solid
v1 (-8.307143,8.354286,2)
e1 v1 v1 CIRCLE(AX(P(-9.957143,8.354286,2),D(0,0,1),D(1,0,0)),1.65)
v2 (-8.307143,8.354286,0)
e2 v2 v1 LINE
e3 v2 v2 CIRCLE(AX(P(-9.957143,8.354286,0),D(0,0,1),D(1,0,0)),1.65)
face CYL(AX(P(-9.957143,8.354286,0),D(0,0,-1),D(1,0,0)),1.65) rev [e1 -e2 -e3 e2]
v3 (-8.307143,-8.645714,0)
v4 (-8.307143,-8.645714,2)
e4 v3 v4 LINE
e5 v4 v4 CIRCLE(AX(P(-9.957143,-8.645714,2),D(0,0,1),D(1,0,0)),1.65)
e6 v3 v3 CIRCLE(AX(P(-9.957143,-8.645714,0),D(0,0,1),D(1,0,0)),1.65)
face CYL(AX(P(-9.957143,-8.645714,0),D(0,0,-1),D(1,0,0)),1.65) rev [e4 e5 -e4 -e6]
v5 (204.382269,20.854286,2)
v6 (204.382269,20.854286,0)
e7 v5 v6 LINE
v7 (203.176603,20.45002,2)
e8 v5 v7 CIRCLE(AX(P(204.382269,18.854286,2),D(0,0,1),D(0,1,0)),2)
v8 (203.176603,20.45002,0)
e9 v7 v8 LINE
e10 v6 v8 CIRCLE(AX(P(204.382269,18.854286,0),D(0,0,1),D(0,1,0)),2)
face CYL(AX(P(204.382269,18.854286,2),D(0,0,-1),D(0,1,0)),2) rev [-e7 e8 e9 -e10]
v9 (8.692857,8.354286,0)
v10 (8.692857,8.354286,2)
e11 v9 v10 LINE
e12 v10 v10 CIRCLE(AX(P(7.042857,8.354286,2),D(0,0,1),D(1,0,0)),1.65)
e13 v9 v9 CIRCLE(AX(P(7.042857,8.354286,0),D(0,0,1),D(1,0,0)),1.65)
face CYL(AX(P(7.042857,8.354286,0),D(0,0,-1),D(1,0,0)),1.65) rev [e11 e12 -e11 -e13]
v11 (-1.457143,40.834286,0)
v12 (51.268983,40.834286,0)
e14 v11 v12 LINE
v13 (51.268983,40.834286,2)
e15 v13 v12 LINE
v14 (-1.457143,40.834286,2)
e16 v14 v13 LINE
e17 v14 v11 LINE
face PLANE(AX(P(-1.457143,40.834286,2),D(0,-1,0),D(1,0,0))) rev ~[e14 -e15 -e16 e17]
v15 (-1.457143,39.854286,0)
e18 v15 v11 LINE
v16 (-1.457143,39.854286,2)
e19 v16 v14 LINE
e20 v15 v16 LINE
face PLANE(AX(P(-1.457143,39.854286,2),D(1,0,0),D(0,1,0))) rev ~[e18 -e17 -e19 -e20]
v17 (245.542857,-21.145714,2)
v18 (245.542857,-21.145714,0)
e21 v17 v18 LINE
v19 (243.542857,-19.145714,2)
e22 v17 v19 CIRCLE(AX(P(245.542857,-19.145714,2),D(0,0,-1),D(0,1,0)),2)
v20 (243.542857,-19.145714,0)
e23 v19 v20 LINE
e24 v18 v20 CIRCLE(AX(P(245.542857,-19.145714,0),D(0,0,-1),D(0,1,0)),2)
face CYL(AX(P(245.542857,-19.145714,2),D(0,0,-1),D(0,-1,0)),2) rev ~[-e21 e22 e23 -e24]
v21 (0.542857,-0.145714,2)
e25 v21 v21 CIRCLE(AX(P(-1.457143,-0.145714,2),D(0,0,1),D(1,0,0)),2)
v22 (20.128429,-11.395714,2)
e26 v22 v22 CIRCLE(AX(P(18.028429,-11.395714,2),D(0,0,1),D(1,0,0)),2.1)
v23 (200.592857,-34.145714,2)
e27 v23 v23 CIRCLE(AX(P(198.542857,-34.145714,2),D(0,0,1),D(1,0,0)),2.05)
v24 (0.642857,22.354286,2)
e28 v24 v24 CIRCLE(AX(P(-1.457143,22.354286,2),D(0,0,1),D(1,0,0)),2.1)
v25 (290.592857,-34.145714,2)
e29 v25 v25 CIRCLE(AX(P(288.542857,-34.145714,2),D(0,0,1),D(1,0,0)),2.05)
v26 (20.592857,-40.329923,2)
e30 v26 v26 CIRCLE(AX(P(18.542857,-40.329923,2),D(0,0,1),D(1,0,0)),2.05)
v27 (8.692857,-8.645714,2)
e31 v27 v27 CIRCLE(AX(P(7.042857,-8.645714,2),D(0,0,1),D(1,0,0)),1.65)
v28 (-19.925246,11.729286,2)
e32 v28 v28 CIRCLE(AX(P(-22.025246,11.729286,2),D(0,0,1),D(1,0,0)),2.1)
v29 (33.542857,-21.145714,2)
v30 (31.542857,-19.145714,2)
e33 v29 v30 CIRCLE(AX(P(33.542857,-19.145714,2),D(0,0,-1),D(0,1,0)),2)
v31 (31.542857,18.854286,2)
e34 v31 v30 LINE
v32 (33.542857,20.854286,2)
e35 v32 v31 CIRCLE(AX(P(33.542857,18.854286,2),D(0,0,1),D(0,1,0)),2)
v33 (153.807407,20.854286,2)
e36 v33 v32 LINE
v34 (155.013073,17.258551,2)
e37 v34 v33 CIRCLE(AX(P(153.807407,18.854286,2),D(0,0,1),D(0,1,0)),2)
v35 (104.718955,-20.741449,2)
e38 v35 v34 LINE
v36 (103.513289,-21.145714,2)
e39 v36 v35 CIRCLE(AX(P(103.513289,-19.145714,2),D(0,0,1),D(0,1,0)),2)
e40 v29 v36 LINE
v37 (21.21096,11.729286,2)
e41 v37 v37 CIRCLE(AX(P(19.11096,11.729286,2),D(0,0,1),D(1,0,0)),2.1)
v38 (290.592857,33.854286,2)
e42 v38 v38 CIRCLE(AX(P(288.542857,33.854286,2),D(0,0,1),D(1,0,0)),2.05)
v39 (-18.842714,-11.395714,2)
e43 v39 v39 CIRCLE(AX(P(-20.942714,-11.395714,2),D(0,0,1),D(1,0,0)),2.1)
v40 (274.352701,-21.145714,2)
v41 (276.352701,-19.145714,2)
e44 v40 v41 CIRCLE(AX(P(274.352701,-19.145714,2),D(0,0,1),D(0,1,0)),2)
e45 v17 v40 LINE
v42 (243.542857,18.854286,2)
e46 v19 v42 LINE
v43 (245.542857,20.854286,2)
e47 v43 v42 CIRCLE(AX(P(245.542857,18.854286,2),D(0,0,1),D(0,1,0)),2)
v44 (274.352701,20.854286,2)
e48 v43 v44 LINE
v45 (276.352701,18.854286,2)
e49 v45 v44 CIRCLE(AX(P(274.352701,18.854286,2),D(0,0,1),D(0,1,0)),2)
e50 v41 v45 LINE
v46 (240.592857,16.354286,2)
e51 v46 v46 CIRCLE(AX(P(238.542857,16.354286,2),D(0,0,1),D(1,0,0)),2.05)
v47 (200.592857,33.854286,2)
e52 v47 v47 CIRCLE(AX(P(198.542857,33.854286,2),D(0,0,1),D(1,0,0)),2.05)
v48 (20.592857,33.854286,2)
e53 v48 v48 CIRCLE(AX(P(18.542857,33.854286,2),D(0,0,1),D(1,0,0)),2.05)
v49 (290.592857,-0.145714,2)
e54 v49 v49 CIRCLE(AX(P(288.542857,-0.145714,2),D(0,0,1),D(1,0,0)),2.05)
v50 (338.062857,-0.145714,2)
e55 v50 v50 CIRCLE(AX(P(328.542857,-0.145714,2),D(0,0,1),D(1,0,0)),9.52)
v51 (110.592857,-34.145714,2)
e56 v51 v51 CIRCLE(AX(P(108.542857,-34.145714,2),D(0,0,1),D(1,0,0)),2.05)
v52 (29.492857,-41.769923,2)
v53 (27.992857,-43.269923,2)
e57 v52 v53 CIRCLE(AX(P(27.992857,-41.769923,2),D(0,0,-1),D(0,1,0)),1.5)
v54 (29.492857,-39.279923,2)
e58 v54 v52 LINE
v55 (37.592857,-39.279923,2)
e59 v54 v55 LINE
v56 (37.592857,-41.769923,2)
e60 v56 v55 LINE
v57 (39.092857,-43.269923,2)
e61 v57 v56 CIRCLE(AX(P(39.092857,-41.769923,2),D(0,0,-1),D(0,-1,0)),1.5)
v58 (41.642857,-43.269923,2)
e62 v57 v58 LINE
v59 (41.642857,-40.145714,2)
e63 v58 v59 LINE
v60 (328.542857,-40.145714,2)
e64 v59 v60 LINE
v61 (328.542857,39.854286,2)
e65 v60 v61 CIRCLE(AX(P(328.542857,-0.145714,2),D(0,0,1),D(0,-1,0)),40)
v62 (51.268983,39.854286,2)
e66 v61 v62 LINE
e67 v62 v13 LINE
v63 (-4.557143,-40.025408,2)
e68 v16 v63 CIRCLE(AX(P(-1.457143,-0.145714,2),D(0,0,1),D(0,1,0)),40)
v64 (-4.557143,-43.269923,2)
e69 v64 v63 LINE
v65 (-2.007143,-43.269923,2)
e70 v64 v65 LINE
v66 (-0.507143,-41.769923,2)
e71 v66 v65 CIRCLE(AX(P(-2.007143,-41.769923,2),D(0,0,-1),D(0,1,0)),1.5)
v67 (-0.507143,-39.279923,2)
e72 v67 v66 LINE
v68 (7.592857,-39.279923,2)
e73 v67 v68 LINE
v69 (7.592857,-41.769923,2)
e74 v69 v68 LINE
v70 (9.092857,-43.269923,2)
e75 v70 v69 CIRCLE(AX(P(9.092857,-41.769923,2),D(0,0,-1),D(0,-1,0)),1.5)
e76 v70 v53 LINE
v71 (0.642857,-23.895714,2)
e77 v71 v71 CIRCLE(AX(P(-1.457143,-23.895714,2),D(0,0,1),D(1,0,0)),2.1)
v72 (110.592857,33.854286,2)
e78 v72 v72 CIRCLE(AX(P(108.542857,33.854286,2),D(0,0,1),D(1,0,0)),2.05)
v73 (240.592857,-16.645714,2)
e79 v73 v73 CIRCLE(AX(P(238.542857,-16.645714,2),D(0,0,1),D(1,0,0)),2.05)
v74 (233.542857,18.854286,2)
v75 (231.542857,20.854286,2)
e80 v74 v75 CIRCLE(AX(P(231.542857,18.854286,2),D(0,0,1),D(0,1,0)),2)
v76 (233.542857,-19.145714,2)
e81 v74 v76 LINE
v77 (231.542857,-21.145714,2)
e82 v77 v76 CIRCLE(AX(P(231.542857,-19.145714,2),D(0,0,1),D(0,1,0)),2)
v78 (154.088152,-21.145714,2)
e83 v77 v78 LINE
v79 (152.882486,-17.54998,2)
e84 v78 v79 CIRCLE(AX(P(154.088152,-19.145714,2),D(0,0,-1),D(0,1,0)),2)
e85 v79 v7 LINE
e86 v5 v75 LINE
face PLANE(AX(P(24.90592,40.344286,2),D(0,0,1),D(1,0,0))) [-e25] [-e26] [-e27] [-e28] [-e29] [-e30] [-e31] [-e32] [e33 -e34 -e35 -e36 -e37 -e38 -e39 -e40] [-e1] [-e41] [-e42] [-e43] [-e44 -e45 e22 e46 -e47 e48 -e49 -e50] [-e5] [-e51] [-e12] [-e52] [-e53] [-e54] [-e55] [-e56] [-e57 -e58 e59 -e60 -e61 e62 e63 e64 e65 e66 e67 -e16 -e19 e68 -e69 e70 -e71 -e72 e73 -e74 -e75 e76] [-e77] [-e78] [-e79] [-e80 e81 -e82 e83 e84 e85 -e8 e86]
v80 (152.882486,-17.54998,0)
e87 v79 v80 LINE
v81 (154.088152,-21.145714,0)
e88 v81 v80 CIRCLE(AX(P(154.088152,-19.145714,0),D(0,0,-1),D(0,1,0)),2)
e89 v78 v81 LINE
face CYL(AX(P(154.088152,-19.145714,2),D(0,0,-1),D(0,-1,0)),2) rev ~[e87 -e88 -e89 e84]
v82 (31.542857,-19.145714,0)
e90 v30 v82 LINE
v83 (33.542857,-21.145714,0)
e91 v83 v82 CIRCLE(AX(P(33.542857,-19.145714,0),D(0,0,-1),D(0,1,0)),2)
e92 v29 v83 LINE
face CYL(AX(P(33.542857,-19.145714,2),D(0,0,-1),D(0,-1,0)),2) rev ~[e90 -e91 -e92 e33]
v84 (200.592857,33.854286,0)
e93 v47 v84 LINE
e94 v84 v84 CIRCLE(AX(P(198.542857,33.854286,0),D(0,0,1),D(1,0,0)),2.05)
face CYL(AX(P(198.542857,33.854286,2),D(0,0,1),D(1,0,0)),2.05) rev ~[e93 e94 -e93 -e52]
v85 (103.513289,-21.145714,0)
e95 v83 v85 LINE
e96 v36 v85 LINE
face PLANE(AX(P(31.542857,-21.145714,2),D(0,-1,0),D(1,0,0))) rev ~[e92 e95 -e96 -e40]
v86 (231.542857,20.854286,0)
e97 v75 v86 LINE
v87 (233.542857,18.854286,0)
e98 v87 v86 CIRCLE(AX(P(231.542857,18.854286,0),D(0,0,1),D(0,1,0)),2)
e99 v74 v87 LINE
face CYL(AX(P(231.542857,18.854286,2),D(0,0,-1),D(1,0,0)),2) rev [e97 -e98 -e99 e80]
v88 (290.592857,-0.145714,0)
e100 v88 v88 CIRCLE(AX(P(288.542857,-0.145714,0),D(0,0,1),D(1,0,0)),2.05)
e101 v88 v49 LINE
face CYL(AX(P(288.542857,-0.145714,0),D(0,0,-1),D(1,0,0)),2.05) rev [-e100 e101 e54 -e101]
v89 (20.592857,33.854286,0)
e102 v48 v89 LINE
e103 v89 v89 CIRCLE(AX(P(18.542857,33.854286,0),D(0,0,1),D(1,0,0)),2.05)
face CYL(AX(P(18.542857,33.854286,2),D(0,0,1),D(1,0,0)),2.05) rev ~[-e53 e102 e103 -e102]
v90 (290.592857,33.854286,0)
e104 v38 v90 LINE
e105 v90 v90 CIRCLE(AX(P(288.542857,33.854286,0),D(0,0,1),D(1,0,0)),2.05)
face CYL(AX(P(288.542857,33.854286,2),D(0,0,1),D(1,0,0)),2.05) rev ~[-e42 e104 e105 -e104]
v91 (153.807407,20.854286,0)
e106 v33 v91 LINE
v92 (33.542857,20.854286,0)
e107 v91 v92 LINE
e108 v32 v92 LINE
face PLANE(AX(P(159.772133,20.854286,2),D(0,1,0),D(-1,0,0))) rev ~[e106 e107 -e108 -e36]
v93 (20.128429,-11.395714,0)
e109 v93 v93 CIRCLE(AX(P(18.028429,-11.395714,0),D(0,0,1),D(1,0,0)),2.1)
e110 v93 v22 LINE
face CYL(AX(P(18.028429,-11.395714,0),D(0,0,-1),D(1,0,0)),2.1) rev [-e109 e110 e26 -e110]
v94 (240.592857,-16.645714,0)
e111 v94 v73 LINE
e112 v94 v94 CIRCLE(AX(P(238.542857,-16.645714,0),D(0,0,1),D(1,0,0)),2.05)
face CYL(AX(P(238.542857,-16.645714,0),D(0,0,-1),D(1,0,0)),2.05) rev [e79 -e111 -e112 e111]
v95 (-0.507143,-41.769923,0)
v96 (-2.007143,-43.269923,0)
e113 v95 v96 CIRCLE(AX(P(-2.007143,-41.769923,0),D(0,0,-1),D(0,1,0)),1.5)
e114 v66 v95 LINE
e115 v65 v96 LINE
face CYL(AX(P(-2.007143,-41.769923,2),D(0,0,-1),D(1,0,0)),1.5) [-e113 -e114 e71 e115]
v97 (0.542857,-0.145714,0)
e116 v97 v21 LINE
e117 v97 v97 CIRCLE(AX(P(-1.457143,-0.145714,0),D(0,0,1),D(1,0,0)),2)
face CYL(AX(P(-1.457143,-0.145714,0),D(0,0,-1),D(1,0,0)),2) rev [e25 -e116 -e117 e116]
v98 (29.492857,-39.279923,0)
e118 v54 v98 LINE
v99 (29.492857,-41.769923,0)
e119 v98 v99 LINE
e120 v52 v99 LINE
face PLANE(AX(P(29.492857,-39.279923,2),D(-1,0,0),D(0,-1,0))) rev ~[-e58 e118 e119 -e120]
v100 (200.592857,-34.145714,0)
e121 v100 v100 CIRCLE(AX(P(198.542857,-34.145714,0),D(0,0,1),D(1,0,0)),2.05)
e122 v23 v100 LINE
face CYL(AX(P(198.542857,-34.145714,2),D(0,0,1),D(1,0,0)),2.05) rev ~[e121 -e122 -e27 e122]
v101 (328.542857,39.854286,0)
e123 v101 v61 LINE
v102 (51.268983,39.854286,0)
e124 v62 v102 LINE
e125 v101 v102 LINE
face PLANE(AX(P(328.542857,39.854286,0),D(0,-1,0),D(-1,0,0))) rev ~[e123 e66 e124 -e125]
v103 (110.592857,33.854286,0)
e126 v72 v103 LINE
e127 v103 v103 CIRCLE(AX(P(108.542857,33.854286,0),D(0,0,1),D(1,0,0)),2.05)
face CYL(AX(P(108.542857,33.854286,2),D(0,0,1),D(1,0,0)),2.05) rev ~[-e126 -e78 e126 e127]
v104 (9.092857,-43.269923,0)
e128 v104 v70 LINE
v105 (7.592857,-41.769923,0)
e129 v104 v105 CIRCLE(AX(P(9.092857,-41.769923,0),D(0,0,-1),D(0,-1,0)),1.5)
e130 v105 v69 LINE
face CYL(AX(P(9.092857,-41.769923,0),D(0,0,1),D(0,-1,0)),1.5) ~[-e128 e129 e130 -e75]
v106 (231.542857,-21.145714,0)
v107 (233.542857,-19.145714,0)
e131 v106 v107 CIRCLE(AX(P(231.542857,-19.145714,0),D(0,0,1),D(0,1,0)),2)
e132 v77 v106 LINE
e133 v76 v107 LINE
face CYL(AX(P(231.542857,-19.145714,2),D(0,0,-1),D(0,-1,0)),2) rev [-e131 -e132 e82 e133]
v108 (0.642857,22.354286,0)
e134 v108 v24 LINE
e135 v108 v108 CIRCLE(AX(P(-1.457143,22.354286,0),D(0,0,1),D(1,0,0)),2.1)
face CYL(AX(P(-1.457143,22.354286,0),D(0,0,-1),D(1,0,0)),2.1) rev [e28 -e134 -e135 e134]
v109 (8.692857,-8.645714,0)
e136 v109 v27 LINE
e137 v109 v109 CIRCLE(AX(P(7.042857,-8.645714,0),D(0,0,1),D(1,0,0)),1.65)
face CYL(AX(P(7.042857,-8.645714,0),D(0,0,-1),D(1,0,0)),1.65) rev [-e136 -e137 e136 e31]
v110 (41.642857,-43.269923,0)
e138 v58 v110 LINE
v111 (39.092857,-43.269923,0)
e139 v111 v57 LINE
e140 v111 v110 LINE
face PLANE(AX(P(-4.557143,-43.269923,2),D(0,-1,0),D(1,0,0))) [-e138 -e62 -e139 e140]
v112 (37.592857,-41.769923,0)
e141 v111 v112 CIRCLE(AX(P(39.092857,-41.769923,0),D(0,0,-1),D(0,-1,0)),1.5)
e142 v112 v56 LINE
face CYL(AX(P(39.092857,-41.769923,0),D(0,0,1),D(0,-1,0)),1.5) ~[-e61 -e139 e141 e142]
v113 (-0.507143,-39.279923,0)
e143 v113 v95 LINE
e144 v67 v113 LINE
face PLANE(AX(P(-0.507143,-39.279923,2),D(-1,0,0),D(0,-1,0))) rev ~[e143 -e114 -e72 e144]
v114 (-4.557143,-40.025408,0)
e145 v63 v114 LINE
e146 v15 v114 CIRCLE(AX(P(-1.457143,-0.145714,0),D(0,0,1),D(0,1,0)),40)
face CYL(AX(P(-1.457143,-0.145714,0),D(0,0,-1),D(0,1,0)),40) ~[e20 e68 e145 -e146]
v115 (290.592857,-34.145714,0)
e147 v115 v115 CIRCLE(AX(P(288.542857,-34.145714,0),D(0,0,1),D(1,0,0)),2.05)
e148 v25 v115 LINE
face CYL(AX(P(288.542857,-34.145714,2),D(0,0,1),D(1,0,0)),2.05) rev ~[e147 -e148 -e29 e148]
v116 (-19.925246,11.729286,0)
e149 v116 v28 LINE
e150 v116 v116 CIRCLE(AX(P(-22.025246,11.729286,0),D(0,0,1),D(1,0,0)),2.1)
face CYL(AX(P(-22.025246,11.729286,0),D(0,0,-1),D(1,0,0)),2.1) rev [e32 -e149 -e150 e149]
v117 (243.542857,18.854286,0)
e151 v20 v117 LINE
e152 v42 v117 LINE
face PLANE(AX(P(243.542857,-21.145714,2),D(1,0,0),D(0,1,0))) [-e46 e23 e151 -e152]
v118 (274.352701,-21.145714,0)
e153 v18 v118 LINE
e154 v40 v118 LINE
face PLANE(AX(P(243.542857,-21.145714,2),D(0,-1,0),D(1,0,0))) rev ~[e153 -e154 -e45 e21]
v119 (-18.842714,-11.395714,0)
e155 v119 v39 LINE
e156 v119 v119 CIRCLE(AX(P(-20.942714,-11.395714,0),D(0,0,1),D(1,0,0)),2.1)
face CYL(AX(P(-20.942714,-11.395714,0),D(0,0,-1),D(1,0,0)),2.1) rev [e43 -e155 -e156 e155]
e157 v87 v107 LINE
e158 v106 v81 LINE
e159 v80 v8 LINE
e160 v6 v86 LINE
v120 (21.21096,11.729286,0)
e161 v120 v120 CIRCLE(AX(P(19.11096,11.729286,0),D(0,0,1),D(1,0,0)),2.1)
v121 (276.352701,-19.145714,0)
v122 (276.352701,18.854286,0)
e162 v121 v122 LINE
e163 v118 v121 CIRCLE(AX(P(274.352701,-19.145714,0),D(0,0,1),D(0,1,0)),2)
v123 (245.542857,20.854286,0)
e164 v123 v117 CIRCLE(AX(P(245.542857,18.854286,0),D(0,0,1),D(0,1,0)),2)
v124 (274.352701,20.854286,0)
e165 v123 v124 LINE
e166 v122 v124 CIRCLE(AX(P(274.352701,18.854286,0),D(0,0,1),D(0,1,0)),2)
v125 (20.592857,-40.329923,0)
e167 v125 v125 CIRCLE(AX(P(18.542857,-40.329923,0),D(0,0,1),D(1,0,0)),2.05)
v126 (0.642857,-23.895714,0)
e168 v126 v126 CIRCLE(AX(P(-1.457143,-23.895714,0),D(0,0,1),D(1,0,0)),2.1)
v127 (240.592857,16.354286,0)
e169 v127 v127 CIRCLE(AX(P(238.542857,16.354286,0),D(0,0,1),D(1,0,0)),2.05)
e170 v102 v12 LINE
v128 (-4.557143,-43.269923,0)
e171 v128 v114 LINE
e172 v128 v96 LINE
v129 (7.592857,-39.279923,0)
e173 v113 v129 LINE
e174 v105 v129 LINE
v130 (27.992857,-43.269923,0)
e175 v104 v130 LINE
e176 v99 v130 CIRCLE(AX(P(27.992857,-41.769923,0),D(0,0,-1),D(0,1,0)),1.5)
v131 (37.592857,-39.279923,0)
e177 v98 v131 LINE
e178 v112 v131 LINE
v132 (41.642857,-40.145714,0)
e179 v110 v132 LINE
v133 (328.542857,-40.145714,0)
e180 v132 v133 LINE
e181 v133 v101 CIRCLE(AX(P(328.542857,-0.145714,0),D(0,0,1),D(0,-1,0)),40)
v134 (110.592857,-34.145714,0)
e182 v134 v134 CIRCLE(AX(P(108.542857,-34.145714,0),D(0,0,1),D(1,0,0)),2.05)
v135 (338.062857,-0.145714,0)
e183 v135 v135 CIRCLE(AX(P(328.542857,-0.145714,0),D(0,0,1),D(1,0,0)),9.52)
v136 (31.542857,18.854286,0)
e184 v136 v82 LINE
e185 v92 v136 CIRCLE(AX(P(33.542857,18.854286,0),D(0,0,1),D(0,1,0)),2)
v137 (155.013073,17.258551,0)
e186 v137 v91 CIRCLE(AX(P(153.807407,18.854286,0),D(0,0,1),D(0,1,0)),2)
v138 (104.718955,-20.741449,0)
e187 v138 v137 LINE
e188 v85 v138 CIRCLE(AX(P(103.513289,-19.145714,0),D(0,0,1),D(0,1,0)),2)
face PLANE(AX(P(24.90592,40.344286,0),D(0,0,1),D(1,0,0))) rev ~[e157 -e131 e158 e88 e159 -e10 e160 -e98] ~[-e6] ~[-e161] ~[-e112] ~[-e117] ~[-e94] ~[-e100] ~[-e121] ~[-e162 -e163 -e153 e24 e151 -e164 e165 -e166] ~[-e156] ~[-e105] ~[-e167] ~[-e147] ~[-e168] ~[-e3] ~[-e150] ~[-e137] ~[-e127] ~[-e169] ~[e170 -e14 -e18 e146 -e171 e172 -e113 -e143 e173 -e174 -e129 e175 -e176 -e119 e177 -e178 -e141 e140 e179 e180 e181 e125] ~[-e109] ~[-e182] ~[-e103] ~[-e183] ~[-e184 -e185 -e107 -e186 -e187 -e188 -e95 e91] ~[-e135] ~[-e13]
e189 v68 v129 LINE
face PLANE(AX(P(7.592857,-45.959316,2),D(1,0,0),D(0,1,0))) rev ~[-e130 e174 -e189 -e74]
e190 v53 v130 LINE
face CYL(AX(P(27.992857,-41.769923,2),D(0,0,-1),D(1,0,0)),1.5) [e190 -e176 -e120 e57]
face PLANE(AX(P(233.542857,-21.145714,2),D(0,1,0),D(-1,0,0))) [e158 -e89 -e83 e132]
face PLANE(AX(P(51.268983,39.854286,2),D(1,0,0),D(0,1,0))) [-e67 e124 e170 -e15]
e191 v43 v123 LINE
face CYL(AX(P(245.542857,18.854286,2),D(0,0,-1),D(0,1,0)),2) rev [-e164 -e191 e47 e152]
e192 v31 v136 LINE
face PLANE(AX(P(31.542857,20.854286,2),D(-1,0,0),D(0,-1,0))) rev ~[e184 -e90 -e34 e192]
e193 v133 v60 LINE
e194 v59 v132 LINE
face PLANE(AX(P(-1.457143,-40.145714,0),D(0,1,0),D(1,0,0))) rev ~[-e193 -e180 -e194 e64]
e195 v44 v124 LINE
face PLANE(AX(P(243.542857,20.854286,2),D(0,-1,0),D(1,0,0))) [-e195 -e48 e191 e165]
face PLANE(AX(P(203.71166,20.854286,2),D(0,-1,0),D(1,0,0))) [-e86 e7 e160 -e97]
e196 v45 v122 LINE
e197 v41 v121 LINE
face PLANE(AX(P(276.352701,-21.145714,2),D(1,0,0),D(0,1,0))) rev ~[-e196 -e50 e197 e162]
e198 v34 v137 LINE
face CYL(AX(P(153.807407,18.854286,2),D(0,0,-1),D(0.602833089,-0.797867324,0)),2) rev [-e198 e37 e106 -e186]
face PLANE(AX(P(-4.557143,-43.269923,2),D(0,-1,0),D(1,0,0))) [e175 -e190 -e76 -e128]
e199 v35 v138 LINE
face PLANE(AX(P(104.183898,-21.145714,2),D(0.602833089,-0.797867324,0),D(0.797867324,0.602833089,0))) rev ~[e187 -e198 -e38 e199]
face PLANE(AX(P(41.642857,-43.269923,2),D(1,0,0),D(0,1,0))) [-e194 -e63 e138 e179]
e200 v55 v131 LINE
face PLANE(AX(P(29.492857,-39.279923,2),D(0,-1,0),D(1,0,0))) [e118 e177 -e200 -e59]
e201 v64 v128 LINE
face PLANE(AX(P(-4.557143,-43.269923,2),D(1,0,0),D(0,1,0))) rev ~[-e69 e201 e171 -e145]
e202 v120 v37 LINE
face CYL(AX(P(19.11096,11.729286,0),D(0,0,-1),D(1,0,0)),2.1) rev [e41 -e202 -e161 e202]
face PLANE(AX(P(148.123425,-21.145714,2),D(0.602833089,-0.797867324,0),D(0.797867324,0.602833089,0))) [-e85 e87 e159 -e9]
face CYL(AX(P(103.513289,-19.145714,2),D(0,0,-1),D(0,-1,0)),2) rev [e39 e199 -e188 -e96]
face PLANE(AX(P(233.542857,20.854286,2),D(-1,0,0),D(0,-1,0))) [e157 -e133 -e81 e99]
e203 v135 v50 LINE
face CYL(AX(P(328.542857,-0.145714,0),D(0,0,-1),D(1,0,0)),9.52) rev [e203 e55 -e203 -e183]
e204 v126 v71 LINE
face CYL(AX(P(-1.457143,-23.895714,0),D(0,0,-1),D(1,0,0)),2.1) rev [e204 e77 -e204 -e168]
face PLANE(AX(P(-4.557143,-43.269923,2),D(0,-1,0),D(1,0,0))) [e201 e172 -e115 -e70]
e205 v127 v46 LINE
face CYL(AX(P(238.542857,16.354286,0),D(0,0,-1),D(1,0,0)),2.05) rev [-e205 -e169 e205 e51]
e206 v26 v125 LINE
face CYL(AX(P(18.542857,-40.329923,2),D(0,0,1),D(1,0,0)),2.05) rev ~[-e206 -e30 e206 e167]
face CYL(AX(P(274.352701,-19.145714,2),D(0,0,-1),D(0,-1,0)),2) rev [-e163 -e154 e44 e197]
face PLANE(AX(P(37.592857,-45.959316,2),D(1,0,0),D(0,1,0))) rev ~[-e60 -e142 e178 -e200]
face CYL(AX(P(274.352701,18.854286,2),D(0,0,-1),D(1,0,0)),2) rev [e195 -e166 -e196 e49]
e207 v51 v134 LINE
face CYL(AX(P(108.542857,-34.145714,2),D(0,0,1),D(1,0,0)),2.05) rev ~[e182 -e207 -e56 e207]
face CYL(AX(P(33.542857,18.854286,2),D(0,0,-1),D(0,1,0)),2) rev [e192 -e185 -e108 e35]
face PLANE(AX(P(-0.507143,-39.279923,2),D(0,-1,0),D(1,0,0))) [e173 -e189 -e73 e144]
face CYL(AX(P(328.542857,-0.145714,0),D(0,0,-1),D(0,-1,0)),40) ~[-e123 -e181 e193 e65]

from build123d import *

# Parameters (mm, degrees)
SKETCH_1_R          = 2.1
SKETCH_1_R_2        = 1.65
SKETCH_1_R_3        = 2
SKETCH_1_R_4        = 2.05
SKETCH_1_R_5        = 9.52
EXTRUDE_1_DEPTH     = 2
SKETCH_3_W          = 52.726125437
SKETCH_3_H          = 0.98
SKETCH_3_W_2        = 46.2
SKETCH_3_H_2        = 3.817212264
EXTRUDE_2_DEPTH     = 2
SKETCH_2_R          = 2.05
SKETCH_2_W          = 32.809844138
SKETCH_2_H          = 42
CUT_EXTRUDE_1_DEPTH = 4
FILLET_1_R          = 2
FILLET_2_R          = 1.5


with BuildPart() as part:
    # 草图1 → 凸台-拉伸1 (new body)
    with BuildSketch(Plane.XY):
        with BuildLine():
            ThreePointArc((-1.457142857, 39.854285714), (-41.457142857, -0.145714286), (-1.457142857, -40.145714286))
            Line((-1.457142857, -40.145714286), (328.542857143, -40.145714286))
            ThreePointArc((328.542857143, -40.145714286), (368.542857143, -0.145714286), (328.542857143, 39.854285714))
            Line((328.542857143, 39.854285714), (-1.457142857, 39.854285714))
        make_face()
        with Locations((-1.457142857, -23.895714286)):
            Circle(SKETCH_1_R, mode=Mode.SUBTRACT)
        with Locations((-20.942714442, -11.395714286)):
            Circle(SKETCH_1_R, mode=Mode.SUBTRACT)
        with Locations((18.028428728, -11.395714286)):
            Circle(SKETCH_1_R, mode=Mode.SUBTRACT)
        with Locations((-9.957142857, -8.645714286)):
            Circle(SKETCH_1_R_2, mode=Mode.SUBTRACT)
        with Locations((7.042857143, -8.645714286)):
            Circle(SKETCH_1_R_2, mode=Mode.SUBTRACT)
        with Locations((-1.457142857, -0.145714286)):
            Circle(SKETCH_1_R_3, mode=Mode.SUBTRACT)
        with Locations((238.542857143, -16.645714286)):
            Circle(SKETCH_1_R_4, mode=Mode.SUBTRACT)
        with Locations((288.542857143, -0.145714286)):
            Circle(SKETCH_1_R_4, mode=Mode.SUBTRACT)
        with Locations((328.542857143, -0.145714286)):
            Circle(SKETCH_1_R_5, mode=Mode.SUBTRACT)
        with Locations((-9.957142857, 8.354285714)):
            Circle(SKETCH_1_R_2, mode=Mode.SUBTRACT)
        with Locations((7.042857143, 8.354285714)):
            Circle(SKETCH_1_R_2, mode=Mode.SUBTRACT)
        with Locations((-22.025246197, 11.729285714)):
            Circle(SKETCH_1_R, mode=Mode.SUBTRACT)
        with Locations((19.110960483, 11.729285714)):
            Circle(SKETCH_1_R, mode=Mode.SUBTRACT)
        with Locations((-1.457142857, 22.354285714)):
            Circle(SKETCH_1_R, mode=Mode.SUBTRACT)
        with Locations((238.542857143, 16.354285714)):
            Circle(SKETCH_1_R_4, mode=Mode.SUBTRACT)
    extrude(amount=EXTRUDE_1_DEPTH)

    # 草图3 → 凸台-拉伸2 (add)
    with BuildSketch(Plane.XY.offset(2)):
        with Locations((24.905919862, 40.344285714)):
            Rectangle(SKETCH_3_W, SKETCH_3_H)
        with Locations((18.542857143, -41.36131722)):
            Rectangle(SKETCH_3_W_2, SKETCH_3_H_2)
    extrude(amount=-EXTRUDE_2_DEPTH)

    # 草图2 → 切除-拉伸1 (cut)
    with BuildSketch(Plane.XY.offset(2)):
        with Locations((18.542857143, 33.854285714)):
            Circle(SKETCH_2_R)
        with Locations((108.542857143, 33.854285714)):
            Circle(SKETCH_2_R)
        with Locations((198.542857143, 33.854285714)):
            Circle(SKETCH_2_R)
        with Locations((288.542857143, 33.854285714)):
            Circle(SKETCH_2_R)
        with Locations((108.542857143, -34.145714286)):
            Circle(SKETCH_2_R)
        with Locations((198.542857143, -34.145714286)):
            Circle(SKETCH_2_R)
        with Locations((288.542857143, -34.145714286)):
            Circle(SKETCH_2_R)
        with Locations((18.542857143, -40.329923352)):
            Circle(SKETCH_2_R)
        Polygon((31.542857143, -21.145714286), (104.183898028, -21.145714286), (159.772133322, 20.854285714), (31.542857143, 20.854285714), align=None)
        Polygon((148.123425102, -21.145714286), (203.711660396, 20.854285714), (233.542857143, 20.854285714), (233.542857143, -21.145714286), align=None)
        with Locations((259.947779212, -0.145714286)):
            Rectangle(SKETCH_2_W, SKETCH_2_H)
        Polygon((29.492857143, -39.279923352), (37.592857143, -39.279923352), (37.592857143, -41.379923352), (37.592857143, -45.95931596), (29.492857143, -45.95931596), (29.492857143, -41.379923352), align=None)
        Polygon((-0.507142857, -39.279923352), (7.592857143, -39.279923352), (7.592857143, -41.379923352), (7.592857143, -45.95931596), (-0.507142857, -45.95931596), (-0.507142857, -41.379923352), align=None)
    extrude(amount=-CUT_EXTRUDE_1_DEPTH, mode=Mode.SUBTRACT)

    # 圆角1
    fillet_1_edges = [part.edges().sort_by_distance(p)[0] for p in [
        (243.542857143, 20.854285714, 1),
        (276.352701281, 20.854285714, 1),
        (276.352701281, -21.145714286, 1),
        (243.542857143, -21.145714286, 1),
        (31.542857143, -21.145714286, 1),
        (31.542857143, 20.854285714, 1),
        (159.772133322, 20.854285714, 1),
        (104.183898028, -21.145714286, 1),
        (203.711660396, 20.854285714, 1),
        (233.542857143, 20.854285714, 1),
        (233.542857143, -21.145714286, 1),
        (148.123425102, -21.145714286, 1),
    ]]
    fillet(fillet_1_edges, radius=FILLET_1_R)

    # 圆角2
    fillet_2_edges = [part.edges().sort_by_distance(p)[0] for p in [
        (37.592857143, -43.269923352, 1),
        (29.492857143, -43.269923352, 1),
        (7.592857143, -43.269923352, 1),
        (-0.507142857, -43.269923352, 1),
    ]]
    fillet(fillet_2_edges, radius=FILLET_2_R)


solid = part.part
